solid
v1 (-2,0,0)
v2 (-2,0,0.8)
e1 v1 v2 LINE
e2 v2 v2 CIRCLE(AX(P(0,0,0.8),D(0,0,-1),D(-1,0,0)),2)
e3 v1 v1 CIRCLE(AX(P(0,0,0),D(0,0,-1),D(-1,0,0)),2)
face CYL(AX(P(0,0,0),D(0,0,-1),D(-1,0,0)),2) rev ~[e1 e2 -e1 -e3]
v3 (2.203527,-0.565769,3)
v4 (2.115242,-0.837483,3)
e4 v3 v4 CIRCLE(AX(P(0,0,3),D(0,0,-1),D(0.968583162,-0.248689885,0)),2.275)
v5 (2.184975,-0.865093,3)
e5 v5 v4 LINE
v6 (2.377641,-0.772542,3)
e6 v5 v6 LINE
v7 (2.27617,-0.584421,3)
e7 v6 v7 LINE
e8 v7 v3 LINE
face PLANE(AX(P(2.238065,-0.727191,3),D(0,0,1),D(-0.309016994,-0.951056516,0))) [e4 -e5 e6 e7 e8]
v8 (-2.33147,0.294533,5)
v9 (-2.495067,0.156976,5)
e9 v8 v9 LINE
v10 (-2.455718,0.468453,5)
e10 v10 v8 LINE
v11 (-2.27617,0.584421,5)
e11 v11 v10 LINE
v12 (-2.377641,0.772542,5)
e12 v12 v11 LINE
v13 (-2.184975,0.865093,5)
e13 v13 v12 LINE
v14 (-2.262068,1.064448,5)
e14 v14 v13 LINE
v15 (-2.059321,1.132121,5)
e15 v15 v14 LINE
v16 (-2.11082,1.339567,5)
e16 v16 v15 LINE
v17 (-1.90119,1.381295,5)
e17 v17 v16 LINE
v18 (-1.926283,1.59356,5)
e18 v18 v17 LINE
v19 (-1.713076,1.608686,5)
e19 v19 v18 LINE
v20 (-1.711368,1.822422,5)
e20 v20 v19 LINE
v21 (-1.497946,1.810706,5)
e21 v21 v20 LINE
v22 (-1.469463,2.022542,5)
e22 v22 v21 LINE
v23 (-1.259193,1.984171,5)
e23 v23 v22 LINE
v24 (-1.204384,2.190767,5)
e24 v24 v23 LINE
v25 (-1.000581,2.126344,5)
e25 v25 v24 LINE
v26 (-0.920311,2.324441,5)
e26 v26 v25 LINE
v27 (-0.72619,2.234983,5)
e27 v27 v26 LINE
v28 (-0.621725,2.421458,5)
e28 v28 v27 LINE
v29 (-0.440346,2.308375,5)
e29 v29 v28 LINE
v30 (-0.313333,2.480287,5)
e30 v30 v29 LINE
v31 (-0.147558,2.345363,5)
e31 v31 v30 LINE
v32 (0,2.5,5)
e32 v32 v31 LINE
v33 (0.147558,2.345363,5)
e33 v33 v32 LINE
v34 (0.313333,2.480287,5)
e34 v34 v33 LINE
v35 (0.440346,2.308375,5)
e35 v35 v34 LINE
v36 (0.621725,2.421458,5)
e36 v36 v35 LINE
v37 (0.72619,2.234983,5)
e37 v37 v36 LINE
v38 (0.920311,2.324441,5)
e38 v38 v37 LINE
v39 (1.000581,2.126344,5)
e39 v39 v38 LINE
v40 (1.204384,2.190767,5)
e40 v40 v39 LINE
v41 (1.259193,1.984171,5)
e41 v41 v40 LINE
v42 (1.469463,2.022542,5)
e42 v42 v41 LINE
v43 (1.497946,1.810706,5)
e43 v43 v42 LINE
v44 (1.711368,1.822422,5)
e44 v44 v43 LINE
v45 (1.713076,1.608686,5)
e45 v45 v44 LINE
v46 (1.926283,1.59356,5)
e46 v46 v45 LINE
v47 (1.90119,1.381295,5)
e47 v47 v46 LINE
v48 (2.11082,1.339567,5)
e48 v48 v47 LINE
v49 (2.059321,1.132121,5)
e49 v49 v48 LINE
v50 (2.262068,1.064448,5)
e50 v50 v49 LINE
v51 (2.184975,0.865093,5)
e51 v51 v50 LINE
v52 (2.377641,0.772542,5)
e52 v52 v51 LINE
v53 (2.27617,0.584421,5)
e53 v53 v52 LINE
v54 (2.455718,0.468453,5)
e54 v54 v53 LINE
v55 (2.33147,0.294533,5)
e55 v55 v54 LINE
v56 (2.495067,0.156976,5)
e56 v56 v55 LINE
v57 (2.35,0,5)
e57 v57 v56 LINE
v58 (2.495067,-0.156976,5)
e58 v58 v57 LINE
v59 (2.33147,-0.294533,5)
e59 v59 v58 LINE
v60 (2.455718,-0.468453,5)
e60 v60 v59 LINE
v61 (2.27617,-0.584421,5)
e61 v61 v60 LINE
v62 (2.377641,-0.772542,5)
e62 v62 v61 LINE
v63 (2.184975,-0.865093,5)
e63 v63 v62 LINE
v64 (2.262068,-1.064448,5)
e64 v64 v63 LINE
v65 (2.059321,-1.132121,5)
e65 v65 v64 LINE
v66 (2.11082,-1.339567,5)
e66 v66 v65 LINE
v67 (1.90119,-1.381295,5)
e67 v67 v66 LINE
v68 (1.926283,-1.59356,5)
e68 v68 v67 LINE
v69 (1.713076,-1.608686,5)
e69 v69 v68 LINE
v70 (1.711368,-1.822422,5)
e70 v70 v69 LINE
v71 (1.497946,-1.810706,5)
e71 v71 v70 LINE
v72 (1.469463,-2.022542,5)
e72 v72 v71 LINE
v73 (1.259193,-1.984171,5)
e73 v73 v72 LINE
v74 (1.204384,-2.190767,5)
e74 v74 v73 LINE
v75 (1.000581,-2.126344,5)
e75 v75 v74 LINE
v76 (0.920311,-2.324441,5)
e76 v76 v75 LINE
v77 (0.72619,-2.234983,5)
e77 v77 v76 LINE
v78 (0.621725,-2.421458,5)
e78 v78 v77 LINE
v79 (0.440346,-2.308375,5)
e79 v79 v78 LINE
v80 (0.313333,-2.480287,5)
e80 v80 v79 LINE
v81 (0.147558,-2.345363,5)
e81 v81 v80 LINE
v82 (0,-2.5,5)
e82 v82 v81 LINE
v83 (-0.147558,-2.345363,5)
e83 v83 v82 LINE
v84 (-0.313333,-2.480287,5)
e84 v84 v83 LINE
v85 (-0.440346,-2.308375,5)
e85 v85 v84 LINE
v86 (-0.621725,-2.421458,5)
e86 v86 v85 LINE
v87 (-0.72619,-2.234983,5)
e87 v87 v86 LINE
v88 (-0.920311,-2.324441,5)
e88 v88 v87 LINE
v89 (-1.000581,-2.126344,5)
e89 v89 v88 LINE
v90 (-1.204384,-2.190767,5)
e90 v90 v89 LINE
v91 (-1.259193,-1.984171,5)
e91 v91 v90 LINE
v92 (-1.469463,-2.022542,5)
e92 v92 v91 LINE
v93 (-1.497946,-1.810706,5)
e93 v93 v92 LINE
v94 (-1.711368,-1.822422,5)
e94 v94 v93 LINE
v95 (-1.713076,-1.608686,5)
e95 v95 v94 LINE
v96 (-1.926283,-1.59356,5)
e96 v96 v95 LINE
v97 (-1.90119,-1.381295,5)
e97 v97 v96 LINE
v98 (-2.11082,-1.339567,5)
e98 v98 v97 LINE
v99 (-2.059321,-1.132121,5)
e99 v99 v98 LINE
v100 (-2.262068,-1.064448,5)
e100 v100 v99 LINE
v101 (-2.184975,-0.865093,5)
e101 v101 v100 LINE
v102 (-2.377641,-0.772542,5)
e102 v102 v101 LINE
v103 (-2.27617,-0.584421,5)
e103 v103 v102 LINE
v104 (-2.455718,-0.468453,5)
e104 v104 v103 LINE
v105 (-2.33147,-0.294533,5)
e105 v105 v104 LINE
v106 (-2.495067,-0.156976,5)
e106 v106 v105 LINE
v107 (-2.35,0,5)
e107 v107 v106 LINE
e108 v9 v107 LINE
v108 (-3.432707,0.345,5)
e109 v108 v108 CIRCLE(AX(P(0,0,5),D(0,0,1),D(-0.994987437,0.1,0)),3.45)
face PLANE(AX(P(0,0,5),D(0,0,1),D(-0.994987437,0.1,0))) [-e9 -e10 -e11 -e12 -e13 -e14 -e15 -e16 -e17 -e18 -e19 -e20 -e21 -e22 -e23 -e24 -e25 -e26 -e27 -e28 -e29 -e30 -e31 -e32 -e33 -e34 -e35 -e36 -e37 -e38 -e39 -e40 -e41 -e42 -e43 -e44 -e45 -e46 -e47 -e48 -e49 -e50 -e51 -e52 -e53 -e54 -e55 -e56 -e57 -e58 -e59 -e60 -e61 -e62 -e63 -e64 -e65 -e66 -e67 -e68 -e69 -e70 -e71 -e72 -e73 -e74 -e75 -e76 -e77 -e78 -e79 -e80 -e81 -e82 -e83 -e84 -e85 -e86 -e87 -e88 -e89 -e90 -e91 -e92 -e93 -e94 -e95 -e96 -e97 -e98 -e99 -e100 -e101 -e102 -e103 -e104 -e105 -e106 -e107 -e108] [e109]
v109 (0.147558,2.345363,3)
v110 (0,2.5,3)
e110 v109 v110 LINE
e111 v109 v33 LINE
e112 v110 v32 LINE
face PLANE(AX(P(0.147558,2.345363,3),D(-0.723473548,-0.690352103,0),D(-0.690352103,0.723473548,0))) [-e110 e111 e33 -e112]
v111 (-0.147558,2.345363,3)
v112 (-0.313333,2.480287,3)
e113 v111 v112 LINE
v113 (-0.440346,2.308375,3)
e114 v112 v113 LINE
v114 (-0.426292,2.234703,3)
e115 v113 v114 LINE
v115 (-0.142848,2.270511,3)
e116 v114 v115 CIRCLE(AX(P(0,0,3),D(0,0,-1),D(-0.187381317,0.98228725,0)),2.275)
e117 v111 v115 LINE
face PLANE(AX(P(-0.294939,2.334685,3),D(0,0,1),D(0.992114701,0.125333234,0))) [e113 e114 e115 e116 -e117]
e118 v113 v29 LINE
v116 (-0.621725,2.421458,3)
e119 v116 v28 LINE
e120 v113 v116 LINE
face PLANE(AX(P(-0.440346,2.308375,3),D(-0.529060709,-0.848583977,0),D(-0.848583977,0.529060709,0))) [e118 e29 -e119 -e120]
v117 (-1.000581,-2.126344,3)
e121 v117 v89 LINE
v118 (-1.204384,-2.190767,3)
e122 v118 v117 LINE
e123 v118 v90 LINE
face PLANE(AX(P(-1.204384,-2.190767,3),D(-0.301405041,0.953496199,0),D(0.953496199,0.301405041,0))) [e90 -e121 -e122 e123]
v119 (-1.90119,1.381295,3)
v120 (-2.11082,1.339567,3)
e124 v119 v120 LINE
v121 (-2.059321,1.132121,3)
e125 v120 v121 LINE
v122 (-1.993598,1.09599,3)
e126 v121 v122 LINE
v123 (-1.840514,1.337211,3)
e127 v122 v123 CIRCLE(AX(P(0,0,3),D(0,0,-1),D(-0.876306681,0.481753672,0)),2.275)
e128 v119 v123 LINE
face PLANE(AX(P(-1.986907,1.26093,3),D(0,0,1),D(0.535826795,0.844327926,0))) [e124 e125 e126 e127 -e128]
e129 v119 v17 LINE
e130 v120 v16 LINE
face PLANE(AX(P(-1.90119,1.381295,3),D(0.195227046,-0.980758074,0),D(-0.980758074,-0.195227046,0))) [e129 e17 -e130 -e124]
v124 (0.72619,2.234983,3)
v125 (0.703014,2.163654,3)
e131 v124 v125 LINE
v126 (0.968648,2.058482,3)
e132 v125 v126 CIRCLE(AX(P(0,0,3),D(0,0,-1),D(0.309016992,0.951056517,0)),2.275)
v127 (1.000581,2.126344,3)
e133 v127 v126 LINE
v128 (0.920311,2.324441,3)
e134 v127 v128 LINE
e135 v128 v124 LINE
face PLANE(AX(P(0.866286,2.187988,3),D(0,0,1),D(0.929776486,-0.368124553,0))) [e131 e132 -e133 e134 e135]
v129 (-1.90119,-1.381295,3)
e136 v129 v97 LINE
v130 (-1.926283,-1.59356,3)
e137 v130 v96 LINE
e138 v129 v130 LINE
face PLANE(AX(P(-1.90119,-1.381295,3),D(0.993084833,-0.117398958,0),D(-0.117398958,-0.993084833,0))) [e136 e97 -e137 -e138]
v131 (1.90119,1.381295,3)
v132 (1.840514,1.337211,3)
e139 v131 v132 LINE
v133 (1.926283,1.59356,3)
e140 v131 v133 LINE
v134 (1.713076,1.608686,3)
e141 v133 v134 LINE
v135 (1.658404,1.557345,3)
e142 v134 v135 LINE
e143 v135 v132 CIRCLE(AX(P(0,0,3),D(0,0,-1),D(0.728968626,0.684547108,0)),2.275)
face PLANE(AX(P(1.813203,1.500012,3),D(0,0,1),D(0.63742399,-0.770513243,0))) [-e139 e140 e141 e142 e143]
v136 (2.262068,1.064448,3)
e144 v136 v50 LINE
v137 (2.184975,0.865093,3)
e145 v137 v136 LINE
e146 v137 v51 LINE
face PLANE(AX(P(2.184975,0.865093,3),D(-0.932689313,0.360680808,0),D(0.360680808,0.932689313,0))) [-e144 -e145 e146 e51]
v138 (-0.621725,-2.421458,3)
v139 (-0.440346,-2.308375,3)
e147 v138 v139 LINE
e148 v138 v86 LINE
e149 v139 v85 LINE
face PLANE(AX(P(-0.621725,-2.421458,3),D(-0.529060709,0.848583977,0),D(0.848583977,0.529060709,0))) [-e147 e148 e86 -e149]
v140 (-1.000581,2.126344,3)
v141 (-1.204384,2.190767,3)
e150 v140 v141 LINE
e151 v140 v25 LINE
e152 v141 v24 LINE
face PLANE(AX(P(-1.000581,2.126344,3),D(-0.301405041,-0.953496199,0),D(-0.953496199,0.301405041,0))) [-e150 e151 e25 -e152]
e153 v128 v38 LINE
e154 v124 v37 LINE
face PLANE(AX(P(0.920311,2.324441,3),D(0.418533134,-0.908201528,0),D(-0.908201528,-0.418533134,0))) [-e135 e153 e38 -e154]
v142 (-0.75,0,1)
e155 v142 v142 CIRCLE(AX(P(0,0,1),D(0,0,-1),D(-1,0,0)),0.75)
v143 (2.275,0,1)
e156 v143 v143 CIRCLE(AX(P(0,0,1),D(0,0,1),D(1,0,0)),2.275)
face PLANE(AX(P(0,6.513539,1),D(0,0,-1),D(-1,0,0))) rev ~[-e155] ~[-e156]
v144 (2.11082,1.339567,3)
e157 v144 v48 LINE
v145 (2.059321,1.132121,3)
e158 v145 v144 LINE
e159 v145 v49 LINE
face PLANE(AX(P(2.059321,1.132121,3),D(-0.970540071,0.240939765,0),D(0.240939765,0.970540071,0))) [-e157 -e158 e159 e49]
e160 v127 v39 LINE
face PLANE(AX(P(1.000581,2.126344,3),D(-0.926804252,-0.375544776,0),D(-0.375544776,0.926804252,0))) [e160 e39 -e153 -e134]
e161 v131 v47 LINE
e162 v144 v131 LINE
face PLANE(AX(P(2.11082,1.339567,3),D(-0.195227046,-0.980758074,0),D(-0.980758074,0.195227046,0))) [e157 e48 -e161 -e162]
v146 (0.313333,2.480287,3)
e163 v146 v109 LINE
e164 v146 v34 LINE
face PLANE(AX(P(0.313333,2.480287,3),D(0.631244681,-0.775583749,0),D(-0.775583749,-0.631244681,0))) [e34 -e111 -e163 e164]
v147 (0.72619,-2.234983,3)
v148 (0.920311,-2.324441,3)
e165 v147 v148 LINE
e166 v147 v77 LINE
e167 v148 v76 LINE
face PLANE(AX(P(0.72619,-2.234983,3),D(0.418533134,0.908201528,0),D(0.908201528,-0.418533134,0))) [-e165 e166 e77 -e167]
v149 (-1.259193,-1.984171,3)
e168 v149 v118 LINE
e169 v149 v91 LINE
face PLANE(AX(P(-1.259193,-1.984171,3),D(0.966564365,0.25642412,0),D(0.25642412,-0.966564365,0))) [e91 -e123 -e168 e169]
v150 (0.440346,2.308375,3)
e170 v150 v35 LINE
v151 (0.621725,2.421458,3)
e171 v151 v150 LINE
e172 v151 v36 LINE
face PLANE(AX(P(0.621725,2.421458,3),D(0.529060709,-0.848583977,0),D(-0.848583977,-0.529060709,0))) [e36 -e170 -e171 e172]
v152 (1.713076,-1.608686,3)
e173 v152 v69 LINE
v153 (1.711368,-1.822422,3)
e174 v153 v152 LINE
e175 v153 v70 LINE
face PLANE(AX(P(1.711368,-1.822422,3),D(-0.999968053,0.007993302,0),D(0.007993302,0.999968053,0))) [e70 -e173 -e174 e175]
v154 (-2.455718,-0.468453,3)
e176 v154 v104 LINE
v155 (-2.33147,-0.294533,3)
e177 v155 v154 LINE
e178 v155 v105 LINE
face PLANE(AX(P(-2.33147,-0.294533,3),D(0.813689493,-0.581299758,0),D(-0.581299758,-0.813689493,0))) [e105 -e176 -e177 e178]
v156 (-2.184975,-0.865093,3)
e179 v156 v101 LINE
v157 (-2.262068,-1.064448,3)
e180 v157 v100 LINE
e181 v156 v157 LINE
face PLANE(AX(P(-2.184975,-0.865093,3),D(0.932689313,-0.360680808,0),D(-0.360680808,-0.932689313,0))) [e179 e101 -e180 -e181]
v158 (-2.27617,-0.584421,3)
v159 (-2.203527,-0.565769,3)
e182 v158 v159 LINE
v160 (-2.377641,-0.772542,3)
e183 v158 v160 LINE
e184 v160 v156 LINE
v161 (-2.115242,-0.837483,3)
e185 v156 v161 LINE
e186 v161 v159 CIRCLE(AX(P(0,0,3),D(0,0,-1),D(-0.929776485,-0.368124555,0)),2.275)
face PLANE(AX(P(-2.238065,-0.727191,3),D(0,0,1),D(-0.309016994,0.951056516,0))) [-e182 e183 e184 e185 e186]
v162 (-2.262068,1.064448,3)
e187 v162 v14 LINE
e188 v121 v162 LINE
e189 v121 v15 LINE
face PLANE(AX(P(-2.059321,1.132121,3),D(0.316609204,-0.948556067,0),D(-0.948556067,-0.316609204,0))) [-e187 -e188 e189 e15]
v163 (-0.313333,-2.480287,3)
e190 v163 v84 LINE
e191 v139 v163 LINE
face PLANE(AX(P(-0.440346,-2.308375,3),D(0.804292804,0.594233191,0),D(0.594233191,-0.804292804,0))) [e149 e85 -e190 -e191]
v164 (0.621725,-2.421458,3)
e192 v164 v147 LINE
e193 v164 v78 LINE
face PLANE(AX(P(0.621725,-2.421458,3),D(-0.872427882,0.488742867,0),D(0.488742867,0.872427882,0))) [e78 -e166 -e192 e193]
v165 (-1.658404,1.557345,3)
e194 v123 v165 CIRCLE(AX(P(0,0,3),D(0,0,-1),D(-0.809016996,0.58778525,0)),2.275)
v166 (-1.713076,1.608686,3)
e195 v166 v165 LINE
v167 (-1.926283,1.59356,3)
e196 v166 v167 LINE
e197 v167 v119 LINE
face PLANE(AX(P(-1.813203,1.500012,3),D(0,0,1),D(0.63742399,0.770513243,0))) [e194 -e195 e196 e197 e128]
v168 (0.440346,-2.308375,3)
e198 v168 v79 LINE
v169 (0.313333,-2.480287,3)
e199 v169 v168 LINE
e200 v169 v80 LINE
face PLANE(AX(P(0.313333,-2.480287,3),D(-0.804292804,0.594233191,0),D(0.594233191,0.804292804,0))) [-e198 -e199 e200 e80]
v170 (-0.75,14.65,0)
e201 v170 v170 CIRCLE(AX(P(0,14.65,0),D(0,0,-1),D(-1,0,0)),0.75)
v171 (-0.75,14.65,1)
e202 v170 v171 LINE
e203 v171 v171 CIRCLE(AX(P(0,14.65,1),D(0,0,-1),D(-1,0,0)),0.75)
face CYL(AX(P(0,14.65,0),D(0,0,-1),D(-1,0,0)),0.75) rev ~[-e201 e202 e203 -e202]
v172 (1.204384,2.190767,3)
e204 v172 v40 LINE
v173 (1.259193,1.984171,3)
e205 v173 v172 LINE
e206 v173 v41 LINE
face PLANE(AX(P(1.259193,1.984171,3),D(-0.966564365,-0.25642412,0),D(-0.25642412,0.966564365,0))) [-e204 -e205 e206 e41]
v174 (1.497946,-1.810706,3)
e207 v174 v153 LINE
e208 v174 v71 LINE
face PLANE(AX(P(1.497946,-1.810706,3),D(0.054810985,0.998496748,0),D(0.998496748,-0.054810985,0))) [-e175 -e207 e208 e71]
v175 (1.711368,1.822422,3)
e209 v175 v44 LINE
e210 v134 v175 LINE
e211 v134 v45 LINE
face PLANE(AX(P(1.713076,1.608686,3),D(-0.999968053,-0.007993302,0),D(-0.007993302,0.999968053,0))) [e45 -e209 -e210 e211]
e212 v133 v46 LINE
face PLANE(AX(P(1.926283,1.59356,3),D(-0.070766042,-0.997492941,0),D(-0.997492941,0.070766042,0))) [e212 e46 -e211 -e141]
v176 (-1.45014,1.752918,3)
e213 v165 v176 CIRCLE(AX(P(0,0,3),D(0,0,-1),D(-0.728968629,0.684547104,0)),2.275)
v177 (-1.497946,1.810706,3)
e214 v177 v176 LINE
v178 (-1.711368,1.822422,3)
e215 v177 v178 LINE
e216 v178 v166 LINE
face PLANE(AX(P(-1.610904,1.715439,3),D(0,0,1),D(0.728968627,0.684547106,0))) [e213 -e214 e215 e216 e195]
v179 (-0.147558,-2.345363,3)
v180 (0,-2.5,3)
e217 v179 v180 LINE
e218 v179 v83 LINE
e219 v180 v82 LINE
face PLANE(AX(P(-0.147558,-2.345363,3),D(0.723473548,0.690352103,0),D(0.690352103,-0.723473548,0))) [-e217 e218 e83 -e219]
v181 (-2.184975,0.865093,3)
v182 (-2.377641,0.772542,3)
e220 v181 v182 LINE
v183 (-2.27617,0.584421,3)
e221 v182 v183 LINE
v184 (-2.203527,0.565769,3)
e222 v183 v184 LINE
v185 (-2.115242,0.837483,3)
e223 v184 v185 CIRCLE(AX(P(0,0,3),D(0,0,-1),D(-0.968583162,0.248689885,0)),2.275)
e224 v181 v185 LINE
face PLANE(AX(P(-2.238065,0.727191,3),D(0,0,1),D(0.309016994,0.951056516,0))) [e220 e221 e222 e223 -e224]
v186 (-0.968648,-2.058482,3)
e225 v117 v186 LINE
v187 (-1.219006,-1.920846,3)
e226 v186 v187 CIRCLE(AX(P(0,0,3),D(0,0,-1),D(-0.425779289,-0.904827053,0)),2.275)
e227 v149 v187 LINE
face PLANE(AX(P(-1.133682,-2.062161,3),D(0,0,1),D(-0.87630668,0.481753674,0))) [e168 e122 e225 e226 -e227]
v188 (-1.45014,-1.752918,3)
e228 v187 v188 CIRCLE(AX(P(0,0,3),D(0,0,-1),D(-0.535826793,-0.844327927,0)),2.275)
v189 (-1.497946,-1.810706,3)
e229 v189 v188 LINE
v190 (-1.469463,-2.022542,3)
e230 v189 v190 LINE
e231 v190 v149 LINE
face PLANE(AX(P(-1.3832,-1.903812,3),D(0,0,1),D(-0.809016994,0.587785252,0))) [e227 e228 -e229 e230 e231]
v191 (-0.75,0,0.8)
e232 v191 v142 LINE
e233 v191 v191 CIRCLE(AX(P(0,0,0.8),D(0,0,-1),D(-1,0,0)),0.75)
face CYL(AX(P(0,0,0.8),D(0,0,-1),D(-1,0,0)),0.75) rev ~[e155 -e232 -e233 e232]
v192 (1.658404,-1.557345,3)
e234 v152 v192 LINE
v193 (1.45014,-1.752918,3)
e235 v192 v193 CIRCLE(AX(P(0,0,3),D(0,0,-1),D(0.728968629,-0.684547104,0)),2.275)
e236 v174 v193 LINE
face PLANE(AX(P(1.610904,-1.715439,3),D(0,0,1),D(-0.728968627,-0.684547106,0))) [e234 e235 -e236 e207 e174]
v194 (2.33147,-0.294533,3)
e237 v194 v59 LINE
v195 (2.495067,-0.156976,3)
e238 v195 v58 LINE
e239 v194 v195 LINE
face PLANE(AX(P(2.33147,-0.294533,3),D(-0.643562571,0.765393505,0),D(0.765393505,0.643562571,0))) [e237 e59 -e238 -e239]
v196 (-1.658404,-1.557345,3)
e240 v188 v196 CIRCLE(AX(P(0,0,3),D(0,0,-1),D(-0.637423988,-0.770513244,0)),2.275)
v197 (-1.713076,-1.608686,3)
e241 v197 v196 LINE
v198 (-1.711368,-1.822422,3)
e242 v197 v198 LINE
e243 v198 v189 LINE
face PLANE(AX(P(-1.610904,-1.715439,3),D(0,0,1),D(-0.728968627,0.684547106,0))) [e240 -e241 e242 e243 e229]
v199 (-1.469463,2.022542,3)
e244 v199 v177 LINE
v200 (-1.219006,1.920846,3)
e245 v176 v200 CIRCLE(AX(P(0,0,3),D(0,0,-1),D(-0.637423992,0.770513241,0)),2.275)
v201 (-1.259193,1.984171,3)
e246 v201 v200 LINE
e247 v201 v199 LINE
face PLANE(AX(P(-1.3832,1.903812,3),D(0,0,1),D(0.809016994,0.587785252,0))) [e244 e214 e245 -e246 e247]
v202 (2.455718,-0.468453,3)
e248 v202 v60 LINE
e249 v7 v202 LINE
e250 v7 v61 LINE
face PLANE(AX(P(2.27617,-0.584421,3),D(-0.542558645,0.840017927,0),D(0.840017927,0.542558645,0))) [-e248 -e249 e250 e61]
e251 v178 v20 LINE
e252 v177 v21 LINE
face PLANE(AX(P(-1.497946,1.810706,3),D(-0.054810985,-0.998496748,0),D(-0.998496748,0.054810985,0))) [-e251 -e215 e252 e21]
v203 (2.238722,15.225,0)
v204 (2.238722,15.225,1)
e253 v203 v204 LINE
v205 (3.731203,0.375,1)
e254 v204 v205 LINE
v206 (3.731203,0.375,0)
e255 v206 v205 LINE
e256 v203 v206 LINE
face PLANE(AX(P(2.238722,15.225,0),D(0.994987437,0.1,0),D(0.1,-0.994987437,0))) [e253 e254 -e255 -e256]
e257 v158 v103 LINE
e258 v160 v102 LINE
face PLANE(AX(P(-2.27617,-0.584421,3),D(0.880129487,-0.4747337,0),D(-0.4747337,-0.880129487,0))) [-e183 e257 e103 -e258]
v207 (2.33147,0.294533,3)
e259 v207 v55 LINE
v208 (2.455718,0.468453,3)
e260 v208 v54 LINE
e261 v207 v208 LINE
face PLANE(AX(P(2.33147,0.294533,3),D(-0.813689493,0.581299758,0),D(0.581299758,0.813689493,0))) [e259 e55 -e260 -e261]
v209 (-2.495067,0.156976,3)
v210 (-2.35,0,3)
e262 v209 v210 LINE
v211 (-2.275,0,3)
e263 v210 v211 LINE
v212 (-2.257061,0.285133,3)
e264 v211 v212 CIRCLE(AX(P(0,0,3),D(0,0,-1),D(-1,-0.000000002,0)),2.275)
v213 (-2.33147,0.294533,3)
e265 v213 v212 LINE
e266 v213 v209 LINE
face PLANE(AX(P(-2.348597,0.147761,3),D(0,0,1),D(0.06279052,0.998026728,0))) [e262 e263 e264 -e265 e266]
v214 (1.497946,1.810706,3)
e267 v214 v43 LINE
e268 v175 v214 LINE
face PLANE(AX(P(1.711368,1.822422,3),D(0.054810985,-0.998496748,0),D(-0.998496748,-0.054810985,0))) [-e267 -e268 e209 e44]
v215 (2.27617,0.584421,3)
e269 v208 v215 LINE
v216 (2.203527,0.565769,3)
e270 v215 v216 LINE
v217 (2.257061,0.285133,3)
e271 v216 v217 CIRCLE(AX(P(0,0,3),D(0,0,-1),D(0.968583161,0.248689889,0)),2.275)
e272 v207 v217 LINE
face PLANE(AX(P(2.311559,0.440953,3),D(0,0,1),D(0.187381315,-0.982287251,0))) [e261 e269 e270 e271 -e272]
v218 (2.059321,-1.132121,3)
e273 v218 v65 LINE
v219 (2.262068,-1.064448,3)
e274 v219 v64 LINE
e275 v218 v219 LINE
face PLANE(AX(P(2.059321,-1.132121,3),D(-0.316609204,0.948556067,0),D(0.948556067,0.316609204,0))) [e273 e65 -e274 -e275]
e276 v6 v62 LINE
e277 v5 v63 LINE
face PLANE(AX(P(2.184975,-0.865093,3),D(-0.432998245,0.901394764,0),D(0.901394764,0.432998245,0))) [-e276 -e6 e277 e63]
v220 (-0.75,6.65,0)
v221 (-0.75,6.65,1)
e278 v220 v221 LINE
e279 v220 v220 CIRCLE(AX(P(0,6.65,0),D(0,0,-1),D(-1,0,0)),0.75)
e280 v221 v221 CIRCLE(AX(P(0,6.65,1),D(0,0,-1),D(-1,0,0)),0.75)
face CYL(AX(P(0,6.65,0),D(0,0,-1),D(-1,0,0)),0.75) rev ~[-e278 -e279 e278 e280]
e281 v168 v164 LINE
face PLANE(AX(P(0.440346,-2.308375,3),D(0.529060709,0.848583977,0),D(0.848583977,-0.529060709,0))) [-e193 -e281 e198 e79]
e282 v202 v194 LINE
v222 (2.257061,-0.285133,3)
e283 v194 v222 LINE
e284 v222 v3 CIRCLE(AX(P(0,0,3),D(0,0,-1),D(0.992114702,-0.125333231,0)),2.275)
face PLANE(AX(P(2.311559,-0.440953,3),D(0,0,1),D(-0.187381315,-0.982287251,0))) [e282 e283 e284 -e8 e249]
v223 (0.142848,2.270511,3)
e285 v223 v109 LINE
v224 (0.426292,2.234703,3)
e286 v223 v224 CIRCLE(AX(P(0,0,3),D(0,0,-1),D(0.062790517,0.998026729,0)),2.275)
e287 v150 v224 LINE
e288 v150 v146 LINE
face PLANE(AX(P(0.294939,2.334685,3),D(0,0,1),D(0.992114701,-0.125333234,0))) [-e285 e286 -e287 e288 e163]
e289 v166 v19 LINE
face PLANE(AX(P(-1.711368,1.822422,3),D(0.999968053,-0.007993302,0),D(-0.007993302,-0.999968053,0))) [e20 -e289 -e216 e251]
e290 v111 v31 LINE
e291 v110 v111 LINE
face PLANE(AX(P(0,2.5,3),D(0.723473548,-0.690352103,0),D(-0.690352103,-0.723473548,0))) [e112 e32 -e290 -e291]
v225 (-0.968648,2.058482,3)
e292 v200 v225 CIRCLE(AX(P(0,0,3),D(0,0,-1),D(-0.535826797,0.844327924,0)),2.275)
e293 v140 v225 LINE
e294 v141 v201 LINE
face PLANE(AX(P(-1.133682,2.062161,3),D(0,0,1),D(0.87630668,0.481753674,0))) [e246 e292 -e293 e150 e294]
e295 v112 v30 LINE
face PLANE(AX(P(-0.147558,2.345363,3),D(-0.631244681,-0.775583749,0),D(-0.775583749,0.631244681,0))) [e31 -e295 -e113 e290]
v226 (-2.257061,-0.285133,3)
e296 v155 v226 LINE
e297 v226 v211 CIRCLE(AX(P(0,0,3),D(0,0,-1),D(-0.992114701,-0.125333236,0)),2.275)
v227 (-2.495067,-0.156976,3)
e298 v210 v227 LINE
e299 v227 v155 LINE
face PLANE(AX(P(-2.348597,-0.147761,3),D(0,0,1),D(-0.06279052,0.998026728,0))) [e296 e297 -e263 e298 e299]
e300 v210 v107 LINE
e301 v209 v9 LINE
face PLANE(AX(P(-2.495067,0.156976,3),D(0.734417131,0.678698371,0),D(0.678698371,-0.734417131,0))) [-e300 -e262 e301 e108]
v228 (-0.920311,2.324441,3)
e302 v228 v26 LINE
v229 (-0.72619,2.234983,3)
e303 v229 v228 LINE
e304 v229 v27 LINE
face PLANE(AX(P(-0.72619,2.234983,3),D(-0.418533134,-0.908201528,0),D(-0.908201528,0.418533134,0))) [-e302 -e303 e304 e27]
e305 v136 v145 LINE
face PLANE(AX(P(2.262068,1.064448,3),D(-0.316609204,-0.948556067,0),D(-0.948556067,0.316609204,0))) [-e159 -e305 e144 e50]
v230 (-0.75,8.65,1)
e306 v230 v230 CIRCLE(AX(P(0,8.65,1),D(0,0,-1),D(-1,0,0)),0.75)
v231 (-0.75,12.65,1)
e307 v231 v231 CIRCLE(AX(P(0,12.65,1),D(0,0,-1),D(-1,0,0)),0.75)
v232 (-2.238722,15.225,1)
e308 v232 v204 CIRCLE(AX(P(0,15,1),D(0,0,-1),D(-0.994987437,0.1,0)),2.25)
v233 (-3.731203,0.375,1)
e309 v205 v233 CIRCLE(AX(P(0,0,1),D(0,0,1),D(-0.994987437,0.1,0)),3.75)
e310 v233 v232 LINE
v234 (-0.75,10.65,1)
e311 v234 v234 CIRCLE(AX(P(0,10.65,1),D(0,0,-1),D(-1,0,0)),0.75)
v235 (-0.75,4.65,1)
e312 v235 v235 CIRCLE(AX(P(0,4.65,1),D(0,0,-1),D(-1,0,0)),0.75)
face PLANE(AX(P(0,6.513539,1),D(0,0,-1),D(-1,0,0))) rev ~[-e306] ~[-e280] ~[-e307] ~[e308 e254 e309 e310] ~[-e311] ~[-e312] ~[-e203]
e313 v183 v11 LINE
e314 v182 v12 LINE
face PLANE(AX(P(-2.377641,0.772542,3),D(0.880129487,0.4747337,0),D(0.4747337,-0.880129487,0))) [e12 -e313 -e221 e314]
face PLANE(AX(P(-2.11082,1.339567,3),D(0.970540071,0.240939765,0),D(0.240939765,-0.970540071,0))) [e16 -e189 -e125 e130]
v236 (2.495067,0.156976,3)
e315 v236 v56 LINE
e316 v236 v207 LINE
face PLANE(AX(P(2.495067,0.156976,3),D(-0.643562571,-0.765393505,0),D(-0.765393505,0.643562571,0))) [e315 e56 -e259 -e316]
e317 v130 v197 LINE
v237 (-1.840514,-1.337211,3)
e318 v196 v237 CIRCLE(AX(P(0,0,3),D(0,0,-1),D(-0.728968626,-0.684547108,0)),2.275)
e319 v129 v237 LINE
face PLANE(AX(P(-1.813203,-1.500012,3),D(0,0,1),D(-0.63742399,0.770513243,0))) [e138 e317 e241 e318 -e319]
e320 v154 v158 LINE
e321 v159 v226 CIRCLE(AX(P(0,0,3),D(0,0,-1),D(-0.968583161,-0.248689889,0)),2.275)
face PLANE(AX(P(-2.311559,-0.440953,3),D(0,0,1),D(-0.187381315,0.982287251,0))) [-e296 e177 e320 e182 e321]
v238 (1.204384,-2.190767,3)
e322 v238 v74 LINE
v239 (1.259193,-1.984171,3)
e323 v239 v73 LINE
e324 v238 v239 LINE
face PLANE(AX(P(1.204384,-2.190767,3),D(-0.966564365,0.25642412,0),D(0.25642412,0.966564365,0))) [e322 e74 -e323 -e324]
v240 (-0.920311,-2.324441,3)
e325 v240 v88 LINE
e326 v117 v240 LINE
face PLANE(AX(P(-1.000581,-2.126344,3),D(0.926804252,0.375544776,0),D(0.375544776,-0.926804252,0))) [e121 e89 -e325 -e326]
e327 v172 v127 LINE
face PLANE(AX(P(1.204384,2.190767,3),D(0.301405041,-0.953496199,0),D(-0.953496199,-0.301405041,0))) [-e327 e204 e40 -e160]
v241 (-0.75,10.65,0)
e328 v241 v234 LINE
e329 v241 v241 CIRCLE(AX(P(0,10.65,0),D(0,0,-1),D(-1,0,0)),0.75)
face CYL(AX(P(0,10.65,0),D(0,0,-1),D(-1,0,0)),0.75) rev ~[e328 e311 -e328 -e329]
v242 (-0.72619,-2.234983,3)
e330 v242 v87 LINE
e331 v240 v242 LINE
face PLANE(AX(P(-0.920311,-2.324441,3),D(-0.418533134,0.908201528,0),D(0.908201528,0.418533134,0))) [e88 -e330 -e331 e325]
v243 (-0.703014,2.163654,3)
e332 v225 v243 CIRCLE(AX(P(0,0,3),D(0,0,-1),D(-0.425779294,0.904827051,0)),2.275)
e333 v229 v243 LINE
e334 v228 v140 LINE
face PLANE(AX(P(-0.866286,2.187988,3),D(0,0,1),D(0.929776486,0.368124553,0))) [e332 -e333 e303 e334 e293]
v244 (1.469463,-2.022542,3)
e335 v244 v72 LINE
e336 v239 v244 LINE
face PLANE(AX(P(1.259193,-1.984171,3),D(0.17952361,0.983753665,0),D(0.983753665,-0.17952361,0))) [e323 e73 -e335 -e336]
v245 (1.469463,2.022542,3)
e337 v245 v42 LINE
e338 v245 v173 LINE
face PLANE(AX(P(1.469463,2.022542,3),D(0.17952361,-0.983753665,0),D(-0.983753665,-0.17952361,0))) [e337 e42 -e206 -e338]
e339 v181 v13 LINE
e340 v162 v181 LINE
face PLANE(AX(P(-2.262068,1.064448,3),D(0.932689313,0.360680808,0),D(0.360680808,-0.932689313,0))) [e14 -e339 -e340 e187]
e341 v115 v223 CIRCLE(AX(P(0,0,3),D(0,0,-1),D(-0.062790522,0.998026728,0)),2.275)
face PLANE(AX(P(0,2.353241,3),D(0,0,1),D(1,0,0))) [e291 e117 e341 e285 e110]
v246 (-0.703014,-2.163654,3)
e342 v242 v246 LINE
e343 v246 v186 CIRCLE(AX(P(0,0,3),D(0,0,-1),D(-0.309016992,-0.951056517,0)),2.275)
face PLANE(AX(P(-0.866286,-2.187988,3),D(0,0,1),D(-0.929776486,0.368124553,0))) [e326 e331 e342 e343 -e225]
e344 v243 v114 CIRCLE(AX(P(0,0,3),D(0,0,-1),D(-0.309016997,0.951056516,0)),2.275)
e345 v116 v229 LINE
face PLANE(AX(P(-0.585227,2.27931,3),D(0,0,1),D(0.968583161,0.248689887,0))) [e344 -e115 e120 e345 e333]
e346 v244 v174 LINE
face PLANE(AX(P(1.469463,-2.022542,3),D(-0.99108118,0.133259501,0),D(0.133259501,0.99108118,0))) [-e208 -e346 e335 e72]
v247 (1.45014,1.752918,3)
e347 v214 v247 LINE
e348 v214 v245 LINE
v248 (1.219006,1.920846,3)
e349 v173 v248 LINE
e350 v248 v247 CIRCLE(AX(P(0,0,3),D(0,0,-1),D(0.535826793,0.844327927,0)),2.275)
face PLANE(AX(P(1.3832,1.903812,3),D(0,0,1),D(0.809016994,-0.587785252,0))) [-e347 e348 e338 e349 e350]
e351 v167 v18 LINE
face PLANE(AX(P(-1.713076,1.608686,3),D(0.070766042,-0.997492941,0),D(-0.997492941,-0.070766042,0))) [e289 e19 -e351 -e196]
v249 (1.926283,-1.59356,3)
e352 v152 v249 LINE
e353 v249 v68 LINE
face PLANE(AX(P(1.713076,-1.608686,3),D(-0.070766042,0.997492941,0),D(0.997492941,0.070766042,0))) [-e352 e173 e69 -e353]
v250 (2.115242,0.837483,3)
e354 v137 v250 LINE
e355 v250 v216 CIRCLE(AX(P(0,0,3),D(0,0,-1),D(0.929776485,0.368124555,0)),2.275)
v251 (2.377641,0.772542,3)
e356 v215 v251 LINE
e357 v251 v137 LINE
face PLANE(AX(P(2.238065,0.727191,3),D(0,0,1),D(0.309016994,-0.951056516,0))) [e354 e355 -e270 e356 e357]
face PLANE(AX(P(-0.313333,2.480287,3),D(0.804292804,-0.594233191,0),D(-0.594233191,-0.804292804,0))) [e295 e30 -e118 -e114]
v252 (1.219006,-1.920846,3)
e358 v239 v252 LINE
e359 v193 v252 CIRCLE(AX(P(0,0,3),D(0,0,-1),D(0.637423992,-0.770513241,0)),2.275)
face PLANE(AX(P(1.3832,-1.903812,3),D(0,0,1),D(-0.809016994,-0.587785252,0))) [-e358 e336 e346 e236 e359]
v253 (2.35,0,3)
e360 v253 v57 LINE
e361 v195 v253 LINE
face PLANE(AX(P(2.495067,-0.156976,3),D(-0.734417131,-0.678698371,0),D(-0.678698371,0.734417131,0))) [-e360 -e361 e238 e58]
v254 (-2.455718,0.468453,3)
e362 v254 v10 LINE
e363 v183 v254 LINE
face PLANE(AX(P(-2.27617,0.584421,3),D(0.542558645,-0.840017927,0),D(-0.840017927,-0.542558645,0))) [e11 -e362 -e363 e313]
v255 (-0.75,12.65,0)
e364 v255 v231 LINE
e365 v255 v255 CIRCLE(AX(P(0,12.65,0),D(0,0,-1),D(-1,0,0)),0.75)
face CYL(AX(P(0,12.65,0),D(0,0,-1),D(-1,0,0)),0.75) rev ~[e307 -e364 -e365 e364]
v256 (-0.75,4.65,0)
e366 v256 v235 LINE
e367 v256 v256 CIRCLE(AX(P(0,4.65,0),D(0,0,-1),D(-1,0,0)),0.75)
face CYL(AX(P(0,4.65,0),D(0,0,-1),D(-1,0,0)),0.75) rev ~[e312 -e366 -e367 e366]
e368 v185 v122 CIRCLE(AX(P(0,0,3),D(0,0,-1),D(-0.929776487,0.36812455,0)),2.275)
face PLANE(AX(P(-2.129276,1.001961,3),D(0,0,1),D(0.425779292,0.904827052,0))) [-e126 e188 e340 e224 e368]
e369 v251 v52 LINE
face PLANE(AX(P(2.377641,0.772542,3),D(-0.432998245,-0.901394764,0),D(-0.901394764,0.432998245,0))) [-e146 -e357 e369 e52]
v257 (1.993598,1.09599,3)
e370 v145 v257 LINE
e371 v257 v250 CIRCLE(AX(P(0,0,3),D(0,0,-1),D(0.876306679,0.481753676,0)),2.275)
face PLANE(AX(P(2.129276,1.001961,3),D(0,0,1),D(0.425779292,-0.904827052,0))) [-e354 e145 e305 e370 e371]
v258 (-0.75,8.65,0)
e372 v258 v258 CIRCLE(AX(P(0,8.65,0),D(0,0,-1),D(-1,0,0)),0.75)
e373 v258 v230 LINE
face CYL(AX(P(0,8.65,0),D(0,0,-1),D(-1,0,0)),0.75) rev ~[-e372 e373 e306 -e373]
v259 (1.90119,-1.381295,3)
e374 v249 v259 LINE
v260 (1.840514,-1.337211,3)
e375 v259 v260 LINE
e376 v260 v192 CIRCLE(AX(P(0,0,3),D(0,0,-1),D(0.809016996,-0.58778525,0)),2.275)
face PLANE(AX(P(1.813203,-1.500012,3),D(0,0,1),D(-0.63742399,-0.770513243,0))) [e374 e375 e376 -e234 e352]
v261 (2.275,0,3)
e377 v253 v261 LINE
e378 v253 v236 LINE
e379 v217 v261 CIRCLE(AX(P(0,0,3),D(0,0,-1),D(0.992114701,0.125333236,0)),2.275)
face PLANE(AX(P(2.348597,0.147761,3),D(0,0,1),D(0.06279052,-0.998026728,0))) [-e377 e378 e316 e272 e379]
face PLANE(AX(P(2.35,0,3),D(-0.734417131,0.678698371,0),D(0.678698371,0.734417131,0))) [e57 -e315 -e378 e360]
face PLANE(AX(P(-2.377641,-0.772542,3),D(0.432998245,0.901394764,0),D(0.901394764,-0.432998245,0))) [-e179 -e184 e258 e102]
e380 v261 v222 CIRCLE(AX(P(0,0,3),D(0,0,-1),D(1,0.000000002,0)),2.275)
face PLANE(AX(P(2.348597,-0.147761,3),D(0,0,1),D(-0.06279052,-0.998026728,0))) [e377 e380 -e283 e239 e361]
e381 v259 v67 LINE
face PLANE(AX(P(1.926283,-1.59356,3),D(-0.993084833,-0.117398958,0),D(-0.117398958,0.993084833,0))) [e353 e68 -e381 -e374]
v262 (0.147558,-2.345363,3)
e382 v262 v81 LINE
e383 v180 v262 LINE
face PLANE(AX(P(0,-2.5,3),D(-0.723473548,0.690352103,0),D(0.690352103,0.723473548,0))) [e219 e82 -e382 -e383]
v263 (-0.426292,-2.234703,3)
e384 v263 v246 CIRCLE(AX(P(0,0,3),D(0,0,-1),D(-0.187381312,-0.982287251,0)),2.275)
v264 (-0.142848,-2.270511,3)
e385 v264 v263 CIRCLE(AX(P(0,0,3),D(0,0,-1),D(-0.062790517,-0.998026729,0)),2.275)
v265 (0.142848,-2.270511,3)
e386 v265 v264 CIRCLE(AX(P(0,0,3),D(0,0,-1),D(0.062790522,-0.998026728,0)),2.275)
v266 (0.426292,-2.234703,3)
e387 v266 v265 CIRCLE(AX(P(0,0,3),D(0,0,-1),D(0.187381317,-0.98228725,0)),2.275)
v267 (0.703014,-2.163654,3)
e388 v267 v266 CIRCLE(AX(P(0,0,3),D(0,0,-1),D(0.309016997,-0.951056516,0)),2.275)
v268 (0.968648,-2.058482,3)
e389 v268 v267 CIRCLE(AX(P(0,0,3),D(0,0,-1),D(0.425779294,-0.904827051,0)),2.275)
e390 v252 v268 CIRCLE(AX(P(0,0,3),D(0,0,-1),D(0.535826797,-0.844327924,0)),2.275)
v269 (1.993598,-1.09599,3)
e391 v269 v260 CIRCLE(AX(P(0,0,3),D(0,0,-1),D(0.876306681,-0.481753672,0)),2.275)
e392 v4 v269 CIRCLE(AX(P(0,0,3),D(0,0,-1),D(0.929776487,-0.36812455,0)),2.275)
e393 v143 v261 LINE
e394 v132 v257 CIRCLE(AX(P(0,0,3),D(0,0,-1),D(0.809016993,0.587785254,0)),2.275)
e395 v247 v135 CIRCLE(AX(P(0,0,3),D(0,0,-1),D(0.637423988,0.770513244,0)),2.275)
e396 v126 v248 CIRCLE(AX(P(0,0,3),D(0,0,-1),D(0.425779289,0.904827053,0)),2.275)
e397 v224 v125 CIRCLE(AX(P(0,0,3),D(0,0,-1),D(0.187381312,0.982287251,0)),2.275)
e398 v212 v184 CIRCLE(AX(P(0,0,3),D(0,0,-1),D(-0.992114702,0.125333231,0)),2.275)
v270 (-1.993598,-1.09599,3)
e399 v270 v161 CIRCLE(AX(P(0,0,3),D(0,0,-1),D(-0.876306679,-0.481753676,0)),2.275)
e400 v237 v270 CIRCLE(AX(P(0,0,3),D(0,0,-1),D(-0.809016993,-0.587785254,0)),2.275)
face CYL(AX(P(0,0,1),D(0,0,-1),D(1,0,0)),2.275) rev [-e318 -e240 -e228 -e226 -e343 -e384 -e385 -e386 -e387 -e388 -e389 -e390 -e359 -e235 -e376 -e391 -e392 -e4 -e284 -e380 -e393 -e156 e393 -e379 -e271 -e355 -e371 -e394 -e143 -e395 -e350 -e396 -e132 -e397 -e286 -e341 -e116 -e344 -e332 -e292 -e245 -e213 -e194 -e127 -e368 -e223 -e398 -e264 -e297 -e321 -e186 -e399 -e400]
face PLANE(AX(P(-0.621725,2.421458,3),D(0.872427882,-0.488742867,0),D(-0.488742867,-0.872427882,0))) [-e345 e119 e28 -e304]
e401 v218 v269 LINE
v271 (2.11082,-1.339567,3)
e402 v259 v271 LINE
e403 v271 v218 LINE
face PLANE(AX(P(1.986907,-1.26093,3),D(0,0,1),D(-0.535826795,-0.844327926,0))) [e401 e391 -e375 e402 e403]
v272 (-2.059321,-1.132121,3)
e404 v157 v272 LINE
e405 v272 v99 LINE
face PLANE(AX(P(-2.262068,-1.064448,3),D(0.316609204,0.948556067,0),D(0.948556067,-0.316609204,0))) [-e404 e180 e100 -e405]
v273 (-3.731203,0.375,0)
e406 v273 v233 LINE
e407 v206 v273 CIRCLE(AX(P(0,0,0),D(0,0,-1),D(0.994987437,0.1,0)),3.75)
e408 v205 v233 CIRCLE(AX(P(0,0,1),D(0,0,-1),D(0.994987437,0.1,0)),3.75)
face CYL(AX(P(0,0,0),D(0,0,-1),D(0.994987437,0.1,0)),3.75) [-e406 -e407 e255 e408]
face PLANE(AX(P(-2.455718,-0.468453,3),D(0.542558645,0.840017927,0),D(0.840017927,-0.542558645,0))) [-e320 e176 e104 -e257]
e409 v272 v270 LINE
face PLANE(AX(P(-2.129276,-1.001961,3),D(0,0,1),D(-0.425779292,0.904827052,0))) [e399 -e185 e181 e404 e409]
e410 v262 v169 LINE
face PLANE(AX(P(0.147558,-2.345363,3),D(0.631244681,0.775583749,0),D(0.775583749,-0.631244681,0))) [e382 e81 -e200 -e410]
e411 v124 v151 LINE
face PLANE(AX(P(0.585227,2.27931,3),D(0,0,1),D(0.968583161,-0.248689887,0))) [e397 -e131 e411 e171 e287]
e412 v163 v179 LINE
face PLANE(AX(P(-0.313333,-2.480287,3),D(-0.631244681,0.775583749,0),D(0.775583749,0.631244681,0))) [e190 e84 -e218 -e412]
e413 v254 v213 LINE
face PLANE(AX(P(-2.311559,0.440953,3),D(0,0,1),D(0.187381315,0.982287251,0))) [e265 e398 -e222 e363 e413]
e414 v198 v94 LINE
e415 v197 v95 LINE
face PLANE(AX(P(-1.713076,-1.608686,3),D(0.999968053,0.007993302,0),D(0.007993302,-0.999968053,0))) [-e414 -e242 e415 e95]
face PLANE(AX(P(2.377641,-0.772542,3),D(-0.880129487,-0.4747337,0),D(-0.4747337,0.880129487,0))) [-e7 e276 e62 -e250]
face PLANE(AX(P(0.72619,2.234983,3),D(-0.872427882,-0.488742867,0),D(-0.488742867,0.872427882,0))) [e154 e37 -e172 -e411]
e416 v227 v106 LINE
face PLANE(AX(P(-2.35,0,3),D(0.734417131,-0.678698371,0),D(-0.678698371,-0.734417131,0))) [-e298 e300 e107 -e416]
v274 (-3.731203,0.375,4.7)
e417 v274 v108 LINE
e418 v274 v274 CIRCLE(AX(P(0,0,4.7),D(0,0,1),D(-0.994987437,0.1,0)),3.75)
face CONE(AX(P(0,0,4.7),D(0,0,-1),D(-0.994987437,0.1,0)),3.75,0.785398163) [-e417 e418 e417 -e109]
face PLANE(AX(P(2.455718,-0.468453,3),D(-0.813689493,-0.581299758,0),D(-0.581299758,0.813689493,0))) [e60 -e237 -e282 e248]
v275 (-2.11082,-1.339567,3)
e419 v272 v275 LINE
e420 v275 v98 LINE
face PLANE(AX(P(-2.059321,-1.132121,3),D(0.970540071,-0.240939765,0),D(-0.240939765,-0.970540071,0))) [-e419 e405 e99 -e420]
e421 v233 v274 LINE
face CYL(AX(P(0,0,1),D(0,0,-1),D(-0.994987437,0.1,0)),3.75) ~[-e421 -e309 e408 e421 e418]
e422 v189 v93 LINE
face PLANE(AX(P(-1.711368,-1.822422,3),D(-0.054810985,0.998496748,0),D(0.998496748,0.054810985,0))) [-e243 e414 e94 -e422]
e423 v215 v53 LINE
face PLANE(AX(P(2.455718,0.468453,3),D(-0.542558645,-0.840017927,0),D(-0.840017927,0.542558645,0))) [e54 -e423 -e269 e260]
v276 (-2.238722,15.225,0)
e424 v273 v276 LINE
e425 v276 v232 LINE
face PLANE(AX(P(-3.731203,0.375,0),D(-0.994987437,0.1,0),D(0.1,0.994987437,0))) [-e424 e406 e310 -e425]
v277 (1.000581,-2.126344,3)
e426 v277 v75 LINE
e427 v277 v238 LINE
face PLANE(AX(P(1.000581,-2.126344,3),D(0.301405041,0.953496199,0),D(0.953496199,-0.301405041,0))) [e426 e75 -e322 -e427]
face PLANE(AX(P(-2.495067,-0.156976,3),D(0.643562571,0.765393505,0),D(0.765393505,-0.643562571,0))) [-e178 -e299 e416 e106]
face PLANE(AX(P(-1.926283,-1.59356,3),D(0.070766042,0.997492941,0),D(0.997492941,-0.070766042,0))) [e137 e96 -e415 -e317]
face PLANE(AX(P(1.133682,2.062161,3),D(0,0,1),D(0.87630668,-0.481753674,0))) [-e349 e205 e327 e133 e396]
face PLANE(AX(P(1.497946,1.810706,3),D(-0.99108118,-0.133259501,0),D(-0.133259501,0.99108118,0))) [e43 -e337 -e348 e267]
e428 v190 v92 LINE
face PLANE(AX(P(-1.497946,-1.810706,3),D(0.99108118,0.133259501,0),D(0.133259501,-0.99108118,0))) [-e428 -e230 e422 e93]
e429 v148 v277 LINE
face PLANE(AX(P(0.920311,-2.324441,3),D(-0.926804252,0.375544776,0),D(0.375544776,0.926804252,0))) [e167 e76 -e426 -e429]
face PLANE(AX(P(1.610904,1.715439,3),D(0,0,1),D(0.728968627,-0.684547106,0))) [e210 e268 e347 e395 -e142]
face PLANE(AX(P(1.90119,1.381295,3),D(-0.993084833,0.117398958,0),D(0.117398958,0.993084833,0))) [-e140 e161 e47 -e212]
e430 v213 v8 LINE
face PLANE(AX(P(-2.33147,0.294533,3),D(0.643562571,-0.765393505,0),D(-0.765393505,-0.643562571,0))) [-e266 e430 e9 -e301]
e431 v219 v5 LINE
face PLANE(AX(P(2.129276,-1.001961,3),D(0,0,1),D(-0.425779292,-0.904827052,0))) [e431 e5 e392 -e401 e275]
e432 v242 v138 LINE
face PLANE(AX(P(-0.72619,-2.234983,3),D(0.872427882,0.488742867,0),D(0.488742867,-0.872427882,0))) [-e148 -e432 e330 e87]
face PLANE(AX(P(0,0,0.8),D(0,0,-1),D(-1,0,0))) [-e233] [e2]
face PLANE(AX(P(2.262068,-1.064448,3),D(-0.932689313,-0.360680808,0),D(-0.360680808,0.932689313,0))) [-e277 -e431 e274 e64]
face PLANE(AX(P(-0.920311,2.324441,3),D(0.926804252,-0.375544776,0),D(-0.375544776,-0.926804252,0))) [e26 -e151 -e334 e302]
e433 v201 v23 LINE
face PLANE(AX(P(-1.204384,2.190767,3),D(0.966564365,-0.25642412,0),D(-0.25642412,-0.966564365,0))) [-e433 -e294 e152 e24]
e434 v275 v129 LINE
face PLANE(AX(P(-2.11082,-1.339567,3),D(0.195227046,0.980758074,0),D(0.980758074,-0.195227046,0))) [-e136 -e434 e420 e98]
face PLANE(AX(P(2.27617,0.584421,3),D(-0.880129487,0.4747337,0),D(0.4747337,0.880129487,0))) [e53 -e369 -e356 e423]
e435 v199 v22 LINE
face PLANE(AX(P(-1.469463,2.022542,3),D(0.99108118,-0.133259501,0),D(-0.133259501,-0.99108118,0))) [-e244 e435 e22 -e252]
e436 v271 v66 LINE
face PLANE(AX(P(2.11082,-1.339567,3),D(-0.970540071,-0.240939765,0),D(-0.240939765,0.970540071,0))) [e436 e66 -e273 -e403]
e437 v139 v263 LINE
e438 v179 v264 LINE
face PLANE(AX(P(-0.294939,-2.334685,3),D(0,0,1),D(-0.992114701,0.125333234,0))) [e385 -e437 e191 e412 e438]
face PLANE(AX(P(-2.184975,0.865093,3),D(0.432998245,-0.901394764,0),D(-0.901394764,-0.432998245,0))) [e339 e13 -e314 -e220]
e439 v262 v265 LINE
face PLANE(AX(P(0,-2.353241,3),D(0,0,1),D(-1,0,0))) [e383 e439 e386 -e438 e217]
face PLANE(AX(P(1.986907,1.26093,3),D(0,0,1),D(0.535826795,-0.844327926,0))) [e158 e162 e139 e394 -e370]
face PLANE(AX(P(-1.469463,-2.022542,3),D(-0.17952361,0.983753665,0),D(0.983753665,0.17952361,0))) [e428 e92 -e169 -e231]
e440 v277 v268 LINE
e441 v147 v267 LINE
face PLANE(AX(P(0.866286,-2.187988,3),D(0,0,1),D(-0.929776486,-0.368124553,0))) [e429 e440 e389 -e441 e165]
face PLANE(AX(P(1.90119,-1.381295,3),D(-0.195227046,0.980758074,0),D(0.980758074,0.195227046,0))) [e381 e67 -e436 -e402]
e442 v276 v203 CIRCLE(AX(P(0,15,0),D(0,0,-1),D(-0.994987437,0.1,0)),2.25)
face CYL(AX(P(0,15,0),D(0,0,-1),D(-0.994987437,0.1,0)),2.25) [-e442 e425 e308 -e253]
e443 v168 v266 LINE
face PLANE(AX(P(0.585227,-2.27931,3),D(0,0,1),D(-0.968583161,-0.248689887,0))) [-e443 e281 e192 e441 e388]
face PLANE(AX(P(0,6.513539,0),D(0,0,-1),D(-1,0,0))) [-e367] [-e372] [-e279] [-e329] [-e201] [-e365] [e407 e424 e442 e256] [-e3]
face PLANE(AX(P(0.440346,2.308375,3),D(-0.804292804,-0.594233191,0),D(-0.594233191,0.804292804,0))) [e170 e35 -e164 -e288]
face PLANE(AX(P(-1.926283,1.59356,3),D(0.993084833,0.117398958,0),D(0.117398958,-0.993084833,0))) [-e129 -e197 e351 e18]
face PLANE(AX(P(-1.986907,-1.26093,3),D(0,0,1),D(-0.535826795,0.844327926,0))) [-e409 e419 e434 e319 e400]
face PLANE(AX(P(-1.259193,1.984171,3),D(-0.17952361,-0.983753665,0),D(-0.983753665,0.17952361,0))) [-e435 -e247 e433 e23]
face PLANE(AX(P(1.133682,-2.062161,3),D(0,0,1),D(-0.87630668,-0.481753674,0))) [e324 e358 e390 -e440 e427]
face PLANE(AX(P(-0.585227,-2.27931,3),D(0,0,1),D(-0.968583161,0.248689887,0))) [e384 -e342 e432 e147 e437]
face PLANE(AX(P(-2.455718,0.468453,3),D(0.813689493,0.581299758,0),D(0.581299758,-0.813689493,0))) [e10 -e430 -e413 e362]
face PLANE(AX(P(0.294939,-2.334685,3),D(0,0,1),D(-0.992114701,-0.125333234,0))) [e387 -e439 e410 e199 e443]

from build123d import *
from build123d.topology import SkipClean

# Parameters (mm, degrees)
BOSS_EXTRUDE1_DEPTH = 1
SKETCH2_R           = 3.75
SKETCH2_R_2         = 2.275
BOSS_EXTRUDE2_DEPTH = 4
SKETCH3_R           = 2
CUT_EXTRUDE1_DEPTH  = 0.8
SKETCH4_R           = 0.75
CUT_EXTRUDE2_DEPTH  = 0.2
SKETCH5_R           = 0.75
CUT_EXTRUDE3_DEPTH  = 1
CHAMFER1_SIZE       = 0.3
CUT_EXTRUDE4_START  = -2
CUT_EXTRUDE4_DEPTH  = 2
CIRPATTERN1_COUNT   = 50


with BuildPart() as part:
    # Sketch1 → Boss-Extrude1 (new body)
    with BuildSketch(Plane.XY):
        with BuildLine():
            Line((-3.731202889, 0.375), (-2.238721733, 15.225))
            ThreePointArc((-2.238721733, 15.225), (0, 17.25), (2.238721733, 15.225))
            Line((2.238721733, 15.225), (3.731202889, 0.375))
            ThreePointArc((3.731202889, 0.375), (0, -3.75), (-3.731202889, 0.375))
        make_face()
    extrude(amount=BOSS_EXTRUDE1_DEPTH)

    # Sketch2 → Boss-Extrude2 (add)
    with SkipClean():  # the faces are left unmerged after this step: merging them gives an invalid solid
        with BuildSketch(Plane.XY.offset(1)):
            with Locations(Location((0, 0, 0), (0, 0, 174.260829523))):
                Circle(SKETCH2_R)
            Circle(SKETCH2_R_2, mode=Mode.SUBTRACT)
        extrude(amount=BOSS_EXTRUDE2_DEPTH)

    # Sketch3 → Cut-Extrude1 (cut)
    with SkipClean():  # the faces are left unmerged after this step: merging them gives an invalid solid
        with BuildSketch(Plane(origin=(0, 0, 0), x_dir=(-1, 0, 0), z_dir=(0, 0, -1))):
            Circle(SKETCH3_R)
        extrude(amount=-CUT_EXTRUDE1_DEPTH, mode=Mode.SUBTRACT)

    # Sketch4 → Cut-Extrude2 (cut)
    with SkipClean():  # the faces are left unmerged after this step: merging them gives an invalid solid
        with BuildSketch(Plane(origin=(0, 0, 0.8), x_dir=(-1, 0, 0), z_dir=(0, 0, -1))):
            Circle(SKETCH4_R)
        extrude(amount=-CUT_EXTRUDE2_DEPTH, mode=Mode.SUBTRACT)

    # Sketch5 → Cut-Extrude3 (cut)
    with SkipClean():  # the faces are left unmerged after this step: merging them gives an invalid solid
        with BuildSketch(Plane(origin=(0, 0, 0), x_dir=(-1, 0, 0), z_dir=(0, 0, -1))):
            with Locations((0, 4.65)):
                Circle(SKETCH5_R)
            with Locations((0, 6.65)):
                Circle(SKETCH5_R)
            with Locations((0, 8.65)):
                Circle(SKETCH5_R)
            with Locations((0, 10.65)):
                Circle(SKETCH5_R)
            with Locations((0, 12.65)):
                Circle(SKETCH5_R)
            with Locations((0, 14.65)):
                Circle(SKETCH5_R)
        extrude(amount=-CUT_EXTRUDE3_DEPTH, mode=Mode.SUBTRACT)

    # Chamfer1
    chamfer1_edges = [part.edges().sort_by_distance(p)[0] for p in [
        (3.731202889, -0.375, 5),
    ]]
    chamfer(chamfer1_edges, length=CHAMFER1_SIZE)

    # Sketch7 → Cut-Extrude4 (cut)
    with SkipClean():  # the faces are left unmerged after this step: merging them gives an invalid solid
        with BuildSketch(Plane.XY.offset(5).offset(CUT_EXTRUDE4_START)):
            with BuildLine():
                Line((0.147557721, 2.345362812), (0, 2.5))
                Line((0, 2.5), (-0.147557721, 2.345362812))
                Line((-0.147557721, 2.345362812), (-0.142848432, 2.270510807))
                ThreePointArc((-0.142848432, 2.270510807), (0, 2.275), (0.142848432, 2.270510807))
                Line((0.142848432, 2.270510807), (0.147557721, 2.345362812))
            make_face()
        cut_extrude4 = extrude(amount=CUT_EXTRUDE4_DEPTH, mode=Mode.SUBTRACT)

    # CirPattern1: Cut-Extrude4 ×50 about axis
    with SkipClean():  # the faces are left unmerged after this step: merging them gives an invalid solid
        cirpattern1_axis = Axis((0, 0, 0), (0, 0, 1))
        for i in range(1, CIRPATTERN1_COUNT):
            add(cut_extrude4.rotate(cirpattern1_axis, i * 360 / CIRPATTERN1_COUNT), mode=Mode.SUBTRACT)


solid = part.part
